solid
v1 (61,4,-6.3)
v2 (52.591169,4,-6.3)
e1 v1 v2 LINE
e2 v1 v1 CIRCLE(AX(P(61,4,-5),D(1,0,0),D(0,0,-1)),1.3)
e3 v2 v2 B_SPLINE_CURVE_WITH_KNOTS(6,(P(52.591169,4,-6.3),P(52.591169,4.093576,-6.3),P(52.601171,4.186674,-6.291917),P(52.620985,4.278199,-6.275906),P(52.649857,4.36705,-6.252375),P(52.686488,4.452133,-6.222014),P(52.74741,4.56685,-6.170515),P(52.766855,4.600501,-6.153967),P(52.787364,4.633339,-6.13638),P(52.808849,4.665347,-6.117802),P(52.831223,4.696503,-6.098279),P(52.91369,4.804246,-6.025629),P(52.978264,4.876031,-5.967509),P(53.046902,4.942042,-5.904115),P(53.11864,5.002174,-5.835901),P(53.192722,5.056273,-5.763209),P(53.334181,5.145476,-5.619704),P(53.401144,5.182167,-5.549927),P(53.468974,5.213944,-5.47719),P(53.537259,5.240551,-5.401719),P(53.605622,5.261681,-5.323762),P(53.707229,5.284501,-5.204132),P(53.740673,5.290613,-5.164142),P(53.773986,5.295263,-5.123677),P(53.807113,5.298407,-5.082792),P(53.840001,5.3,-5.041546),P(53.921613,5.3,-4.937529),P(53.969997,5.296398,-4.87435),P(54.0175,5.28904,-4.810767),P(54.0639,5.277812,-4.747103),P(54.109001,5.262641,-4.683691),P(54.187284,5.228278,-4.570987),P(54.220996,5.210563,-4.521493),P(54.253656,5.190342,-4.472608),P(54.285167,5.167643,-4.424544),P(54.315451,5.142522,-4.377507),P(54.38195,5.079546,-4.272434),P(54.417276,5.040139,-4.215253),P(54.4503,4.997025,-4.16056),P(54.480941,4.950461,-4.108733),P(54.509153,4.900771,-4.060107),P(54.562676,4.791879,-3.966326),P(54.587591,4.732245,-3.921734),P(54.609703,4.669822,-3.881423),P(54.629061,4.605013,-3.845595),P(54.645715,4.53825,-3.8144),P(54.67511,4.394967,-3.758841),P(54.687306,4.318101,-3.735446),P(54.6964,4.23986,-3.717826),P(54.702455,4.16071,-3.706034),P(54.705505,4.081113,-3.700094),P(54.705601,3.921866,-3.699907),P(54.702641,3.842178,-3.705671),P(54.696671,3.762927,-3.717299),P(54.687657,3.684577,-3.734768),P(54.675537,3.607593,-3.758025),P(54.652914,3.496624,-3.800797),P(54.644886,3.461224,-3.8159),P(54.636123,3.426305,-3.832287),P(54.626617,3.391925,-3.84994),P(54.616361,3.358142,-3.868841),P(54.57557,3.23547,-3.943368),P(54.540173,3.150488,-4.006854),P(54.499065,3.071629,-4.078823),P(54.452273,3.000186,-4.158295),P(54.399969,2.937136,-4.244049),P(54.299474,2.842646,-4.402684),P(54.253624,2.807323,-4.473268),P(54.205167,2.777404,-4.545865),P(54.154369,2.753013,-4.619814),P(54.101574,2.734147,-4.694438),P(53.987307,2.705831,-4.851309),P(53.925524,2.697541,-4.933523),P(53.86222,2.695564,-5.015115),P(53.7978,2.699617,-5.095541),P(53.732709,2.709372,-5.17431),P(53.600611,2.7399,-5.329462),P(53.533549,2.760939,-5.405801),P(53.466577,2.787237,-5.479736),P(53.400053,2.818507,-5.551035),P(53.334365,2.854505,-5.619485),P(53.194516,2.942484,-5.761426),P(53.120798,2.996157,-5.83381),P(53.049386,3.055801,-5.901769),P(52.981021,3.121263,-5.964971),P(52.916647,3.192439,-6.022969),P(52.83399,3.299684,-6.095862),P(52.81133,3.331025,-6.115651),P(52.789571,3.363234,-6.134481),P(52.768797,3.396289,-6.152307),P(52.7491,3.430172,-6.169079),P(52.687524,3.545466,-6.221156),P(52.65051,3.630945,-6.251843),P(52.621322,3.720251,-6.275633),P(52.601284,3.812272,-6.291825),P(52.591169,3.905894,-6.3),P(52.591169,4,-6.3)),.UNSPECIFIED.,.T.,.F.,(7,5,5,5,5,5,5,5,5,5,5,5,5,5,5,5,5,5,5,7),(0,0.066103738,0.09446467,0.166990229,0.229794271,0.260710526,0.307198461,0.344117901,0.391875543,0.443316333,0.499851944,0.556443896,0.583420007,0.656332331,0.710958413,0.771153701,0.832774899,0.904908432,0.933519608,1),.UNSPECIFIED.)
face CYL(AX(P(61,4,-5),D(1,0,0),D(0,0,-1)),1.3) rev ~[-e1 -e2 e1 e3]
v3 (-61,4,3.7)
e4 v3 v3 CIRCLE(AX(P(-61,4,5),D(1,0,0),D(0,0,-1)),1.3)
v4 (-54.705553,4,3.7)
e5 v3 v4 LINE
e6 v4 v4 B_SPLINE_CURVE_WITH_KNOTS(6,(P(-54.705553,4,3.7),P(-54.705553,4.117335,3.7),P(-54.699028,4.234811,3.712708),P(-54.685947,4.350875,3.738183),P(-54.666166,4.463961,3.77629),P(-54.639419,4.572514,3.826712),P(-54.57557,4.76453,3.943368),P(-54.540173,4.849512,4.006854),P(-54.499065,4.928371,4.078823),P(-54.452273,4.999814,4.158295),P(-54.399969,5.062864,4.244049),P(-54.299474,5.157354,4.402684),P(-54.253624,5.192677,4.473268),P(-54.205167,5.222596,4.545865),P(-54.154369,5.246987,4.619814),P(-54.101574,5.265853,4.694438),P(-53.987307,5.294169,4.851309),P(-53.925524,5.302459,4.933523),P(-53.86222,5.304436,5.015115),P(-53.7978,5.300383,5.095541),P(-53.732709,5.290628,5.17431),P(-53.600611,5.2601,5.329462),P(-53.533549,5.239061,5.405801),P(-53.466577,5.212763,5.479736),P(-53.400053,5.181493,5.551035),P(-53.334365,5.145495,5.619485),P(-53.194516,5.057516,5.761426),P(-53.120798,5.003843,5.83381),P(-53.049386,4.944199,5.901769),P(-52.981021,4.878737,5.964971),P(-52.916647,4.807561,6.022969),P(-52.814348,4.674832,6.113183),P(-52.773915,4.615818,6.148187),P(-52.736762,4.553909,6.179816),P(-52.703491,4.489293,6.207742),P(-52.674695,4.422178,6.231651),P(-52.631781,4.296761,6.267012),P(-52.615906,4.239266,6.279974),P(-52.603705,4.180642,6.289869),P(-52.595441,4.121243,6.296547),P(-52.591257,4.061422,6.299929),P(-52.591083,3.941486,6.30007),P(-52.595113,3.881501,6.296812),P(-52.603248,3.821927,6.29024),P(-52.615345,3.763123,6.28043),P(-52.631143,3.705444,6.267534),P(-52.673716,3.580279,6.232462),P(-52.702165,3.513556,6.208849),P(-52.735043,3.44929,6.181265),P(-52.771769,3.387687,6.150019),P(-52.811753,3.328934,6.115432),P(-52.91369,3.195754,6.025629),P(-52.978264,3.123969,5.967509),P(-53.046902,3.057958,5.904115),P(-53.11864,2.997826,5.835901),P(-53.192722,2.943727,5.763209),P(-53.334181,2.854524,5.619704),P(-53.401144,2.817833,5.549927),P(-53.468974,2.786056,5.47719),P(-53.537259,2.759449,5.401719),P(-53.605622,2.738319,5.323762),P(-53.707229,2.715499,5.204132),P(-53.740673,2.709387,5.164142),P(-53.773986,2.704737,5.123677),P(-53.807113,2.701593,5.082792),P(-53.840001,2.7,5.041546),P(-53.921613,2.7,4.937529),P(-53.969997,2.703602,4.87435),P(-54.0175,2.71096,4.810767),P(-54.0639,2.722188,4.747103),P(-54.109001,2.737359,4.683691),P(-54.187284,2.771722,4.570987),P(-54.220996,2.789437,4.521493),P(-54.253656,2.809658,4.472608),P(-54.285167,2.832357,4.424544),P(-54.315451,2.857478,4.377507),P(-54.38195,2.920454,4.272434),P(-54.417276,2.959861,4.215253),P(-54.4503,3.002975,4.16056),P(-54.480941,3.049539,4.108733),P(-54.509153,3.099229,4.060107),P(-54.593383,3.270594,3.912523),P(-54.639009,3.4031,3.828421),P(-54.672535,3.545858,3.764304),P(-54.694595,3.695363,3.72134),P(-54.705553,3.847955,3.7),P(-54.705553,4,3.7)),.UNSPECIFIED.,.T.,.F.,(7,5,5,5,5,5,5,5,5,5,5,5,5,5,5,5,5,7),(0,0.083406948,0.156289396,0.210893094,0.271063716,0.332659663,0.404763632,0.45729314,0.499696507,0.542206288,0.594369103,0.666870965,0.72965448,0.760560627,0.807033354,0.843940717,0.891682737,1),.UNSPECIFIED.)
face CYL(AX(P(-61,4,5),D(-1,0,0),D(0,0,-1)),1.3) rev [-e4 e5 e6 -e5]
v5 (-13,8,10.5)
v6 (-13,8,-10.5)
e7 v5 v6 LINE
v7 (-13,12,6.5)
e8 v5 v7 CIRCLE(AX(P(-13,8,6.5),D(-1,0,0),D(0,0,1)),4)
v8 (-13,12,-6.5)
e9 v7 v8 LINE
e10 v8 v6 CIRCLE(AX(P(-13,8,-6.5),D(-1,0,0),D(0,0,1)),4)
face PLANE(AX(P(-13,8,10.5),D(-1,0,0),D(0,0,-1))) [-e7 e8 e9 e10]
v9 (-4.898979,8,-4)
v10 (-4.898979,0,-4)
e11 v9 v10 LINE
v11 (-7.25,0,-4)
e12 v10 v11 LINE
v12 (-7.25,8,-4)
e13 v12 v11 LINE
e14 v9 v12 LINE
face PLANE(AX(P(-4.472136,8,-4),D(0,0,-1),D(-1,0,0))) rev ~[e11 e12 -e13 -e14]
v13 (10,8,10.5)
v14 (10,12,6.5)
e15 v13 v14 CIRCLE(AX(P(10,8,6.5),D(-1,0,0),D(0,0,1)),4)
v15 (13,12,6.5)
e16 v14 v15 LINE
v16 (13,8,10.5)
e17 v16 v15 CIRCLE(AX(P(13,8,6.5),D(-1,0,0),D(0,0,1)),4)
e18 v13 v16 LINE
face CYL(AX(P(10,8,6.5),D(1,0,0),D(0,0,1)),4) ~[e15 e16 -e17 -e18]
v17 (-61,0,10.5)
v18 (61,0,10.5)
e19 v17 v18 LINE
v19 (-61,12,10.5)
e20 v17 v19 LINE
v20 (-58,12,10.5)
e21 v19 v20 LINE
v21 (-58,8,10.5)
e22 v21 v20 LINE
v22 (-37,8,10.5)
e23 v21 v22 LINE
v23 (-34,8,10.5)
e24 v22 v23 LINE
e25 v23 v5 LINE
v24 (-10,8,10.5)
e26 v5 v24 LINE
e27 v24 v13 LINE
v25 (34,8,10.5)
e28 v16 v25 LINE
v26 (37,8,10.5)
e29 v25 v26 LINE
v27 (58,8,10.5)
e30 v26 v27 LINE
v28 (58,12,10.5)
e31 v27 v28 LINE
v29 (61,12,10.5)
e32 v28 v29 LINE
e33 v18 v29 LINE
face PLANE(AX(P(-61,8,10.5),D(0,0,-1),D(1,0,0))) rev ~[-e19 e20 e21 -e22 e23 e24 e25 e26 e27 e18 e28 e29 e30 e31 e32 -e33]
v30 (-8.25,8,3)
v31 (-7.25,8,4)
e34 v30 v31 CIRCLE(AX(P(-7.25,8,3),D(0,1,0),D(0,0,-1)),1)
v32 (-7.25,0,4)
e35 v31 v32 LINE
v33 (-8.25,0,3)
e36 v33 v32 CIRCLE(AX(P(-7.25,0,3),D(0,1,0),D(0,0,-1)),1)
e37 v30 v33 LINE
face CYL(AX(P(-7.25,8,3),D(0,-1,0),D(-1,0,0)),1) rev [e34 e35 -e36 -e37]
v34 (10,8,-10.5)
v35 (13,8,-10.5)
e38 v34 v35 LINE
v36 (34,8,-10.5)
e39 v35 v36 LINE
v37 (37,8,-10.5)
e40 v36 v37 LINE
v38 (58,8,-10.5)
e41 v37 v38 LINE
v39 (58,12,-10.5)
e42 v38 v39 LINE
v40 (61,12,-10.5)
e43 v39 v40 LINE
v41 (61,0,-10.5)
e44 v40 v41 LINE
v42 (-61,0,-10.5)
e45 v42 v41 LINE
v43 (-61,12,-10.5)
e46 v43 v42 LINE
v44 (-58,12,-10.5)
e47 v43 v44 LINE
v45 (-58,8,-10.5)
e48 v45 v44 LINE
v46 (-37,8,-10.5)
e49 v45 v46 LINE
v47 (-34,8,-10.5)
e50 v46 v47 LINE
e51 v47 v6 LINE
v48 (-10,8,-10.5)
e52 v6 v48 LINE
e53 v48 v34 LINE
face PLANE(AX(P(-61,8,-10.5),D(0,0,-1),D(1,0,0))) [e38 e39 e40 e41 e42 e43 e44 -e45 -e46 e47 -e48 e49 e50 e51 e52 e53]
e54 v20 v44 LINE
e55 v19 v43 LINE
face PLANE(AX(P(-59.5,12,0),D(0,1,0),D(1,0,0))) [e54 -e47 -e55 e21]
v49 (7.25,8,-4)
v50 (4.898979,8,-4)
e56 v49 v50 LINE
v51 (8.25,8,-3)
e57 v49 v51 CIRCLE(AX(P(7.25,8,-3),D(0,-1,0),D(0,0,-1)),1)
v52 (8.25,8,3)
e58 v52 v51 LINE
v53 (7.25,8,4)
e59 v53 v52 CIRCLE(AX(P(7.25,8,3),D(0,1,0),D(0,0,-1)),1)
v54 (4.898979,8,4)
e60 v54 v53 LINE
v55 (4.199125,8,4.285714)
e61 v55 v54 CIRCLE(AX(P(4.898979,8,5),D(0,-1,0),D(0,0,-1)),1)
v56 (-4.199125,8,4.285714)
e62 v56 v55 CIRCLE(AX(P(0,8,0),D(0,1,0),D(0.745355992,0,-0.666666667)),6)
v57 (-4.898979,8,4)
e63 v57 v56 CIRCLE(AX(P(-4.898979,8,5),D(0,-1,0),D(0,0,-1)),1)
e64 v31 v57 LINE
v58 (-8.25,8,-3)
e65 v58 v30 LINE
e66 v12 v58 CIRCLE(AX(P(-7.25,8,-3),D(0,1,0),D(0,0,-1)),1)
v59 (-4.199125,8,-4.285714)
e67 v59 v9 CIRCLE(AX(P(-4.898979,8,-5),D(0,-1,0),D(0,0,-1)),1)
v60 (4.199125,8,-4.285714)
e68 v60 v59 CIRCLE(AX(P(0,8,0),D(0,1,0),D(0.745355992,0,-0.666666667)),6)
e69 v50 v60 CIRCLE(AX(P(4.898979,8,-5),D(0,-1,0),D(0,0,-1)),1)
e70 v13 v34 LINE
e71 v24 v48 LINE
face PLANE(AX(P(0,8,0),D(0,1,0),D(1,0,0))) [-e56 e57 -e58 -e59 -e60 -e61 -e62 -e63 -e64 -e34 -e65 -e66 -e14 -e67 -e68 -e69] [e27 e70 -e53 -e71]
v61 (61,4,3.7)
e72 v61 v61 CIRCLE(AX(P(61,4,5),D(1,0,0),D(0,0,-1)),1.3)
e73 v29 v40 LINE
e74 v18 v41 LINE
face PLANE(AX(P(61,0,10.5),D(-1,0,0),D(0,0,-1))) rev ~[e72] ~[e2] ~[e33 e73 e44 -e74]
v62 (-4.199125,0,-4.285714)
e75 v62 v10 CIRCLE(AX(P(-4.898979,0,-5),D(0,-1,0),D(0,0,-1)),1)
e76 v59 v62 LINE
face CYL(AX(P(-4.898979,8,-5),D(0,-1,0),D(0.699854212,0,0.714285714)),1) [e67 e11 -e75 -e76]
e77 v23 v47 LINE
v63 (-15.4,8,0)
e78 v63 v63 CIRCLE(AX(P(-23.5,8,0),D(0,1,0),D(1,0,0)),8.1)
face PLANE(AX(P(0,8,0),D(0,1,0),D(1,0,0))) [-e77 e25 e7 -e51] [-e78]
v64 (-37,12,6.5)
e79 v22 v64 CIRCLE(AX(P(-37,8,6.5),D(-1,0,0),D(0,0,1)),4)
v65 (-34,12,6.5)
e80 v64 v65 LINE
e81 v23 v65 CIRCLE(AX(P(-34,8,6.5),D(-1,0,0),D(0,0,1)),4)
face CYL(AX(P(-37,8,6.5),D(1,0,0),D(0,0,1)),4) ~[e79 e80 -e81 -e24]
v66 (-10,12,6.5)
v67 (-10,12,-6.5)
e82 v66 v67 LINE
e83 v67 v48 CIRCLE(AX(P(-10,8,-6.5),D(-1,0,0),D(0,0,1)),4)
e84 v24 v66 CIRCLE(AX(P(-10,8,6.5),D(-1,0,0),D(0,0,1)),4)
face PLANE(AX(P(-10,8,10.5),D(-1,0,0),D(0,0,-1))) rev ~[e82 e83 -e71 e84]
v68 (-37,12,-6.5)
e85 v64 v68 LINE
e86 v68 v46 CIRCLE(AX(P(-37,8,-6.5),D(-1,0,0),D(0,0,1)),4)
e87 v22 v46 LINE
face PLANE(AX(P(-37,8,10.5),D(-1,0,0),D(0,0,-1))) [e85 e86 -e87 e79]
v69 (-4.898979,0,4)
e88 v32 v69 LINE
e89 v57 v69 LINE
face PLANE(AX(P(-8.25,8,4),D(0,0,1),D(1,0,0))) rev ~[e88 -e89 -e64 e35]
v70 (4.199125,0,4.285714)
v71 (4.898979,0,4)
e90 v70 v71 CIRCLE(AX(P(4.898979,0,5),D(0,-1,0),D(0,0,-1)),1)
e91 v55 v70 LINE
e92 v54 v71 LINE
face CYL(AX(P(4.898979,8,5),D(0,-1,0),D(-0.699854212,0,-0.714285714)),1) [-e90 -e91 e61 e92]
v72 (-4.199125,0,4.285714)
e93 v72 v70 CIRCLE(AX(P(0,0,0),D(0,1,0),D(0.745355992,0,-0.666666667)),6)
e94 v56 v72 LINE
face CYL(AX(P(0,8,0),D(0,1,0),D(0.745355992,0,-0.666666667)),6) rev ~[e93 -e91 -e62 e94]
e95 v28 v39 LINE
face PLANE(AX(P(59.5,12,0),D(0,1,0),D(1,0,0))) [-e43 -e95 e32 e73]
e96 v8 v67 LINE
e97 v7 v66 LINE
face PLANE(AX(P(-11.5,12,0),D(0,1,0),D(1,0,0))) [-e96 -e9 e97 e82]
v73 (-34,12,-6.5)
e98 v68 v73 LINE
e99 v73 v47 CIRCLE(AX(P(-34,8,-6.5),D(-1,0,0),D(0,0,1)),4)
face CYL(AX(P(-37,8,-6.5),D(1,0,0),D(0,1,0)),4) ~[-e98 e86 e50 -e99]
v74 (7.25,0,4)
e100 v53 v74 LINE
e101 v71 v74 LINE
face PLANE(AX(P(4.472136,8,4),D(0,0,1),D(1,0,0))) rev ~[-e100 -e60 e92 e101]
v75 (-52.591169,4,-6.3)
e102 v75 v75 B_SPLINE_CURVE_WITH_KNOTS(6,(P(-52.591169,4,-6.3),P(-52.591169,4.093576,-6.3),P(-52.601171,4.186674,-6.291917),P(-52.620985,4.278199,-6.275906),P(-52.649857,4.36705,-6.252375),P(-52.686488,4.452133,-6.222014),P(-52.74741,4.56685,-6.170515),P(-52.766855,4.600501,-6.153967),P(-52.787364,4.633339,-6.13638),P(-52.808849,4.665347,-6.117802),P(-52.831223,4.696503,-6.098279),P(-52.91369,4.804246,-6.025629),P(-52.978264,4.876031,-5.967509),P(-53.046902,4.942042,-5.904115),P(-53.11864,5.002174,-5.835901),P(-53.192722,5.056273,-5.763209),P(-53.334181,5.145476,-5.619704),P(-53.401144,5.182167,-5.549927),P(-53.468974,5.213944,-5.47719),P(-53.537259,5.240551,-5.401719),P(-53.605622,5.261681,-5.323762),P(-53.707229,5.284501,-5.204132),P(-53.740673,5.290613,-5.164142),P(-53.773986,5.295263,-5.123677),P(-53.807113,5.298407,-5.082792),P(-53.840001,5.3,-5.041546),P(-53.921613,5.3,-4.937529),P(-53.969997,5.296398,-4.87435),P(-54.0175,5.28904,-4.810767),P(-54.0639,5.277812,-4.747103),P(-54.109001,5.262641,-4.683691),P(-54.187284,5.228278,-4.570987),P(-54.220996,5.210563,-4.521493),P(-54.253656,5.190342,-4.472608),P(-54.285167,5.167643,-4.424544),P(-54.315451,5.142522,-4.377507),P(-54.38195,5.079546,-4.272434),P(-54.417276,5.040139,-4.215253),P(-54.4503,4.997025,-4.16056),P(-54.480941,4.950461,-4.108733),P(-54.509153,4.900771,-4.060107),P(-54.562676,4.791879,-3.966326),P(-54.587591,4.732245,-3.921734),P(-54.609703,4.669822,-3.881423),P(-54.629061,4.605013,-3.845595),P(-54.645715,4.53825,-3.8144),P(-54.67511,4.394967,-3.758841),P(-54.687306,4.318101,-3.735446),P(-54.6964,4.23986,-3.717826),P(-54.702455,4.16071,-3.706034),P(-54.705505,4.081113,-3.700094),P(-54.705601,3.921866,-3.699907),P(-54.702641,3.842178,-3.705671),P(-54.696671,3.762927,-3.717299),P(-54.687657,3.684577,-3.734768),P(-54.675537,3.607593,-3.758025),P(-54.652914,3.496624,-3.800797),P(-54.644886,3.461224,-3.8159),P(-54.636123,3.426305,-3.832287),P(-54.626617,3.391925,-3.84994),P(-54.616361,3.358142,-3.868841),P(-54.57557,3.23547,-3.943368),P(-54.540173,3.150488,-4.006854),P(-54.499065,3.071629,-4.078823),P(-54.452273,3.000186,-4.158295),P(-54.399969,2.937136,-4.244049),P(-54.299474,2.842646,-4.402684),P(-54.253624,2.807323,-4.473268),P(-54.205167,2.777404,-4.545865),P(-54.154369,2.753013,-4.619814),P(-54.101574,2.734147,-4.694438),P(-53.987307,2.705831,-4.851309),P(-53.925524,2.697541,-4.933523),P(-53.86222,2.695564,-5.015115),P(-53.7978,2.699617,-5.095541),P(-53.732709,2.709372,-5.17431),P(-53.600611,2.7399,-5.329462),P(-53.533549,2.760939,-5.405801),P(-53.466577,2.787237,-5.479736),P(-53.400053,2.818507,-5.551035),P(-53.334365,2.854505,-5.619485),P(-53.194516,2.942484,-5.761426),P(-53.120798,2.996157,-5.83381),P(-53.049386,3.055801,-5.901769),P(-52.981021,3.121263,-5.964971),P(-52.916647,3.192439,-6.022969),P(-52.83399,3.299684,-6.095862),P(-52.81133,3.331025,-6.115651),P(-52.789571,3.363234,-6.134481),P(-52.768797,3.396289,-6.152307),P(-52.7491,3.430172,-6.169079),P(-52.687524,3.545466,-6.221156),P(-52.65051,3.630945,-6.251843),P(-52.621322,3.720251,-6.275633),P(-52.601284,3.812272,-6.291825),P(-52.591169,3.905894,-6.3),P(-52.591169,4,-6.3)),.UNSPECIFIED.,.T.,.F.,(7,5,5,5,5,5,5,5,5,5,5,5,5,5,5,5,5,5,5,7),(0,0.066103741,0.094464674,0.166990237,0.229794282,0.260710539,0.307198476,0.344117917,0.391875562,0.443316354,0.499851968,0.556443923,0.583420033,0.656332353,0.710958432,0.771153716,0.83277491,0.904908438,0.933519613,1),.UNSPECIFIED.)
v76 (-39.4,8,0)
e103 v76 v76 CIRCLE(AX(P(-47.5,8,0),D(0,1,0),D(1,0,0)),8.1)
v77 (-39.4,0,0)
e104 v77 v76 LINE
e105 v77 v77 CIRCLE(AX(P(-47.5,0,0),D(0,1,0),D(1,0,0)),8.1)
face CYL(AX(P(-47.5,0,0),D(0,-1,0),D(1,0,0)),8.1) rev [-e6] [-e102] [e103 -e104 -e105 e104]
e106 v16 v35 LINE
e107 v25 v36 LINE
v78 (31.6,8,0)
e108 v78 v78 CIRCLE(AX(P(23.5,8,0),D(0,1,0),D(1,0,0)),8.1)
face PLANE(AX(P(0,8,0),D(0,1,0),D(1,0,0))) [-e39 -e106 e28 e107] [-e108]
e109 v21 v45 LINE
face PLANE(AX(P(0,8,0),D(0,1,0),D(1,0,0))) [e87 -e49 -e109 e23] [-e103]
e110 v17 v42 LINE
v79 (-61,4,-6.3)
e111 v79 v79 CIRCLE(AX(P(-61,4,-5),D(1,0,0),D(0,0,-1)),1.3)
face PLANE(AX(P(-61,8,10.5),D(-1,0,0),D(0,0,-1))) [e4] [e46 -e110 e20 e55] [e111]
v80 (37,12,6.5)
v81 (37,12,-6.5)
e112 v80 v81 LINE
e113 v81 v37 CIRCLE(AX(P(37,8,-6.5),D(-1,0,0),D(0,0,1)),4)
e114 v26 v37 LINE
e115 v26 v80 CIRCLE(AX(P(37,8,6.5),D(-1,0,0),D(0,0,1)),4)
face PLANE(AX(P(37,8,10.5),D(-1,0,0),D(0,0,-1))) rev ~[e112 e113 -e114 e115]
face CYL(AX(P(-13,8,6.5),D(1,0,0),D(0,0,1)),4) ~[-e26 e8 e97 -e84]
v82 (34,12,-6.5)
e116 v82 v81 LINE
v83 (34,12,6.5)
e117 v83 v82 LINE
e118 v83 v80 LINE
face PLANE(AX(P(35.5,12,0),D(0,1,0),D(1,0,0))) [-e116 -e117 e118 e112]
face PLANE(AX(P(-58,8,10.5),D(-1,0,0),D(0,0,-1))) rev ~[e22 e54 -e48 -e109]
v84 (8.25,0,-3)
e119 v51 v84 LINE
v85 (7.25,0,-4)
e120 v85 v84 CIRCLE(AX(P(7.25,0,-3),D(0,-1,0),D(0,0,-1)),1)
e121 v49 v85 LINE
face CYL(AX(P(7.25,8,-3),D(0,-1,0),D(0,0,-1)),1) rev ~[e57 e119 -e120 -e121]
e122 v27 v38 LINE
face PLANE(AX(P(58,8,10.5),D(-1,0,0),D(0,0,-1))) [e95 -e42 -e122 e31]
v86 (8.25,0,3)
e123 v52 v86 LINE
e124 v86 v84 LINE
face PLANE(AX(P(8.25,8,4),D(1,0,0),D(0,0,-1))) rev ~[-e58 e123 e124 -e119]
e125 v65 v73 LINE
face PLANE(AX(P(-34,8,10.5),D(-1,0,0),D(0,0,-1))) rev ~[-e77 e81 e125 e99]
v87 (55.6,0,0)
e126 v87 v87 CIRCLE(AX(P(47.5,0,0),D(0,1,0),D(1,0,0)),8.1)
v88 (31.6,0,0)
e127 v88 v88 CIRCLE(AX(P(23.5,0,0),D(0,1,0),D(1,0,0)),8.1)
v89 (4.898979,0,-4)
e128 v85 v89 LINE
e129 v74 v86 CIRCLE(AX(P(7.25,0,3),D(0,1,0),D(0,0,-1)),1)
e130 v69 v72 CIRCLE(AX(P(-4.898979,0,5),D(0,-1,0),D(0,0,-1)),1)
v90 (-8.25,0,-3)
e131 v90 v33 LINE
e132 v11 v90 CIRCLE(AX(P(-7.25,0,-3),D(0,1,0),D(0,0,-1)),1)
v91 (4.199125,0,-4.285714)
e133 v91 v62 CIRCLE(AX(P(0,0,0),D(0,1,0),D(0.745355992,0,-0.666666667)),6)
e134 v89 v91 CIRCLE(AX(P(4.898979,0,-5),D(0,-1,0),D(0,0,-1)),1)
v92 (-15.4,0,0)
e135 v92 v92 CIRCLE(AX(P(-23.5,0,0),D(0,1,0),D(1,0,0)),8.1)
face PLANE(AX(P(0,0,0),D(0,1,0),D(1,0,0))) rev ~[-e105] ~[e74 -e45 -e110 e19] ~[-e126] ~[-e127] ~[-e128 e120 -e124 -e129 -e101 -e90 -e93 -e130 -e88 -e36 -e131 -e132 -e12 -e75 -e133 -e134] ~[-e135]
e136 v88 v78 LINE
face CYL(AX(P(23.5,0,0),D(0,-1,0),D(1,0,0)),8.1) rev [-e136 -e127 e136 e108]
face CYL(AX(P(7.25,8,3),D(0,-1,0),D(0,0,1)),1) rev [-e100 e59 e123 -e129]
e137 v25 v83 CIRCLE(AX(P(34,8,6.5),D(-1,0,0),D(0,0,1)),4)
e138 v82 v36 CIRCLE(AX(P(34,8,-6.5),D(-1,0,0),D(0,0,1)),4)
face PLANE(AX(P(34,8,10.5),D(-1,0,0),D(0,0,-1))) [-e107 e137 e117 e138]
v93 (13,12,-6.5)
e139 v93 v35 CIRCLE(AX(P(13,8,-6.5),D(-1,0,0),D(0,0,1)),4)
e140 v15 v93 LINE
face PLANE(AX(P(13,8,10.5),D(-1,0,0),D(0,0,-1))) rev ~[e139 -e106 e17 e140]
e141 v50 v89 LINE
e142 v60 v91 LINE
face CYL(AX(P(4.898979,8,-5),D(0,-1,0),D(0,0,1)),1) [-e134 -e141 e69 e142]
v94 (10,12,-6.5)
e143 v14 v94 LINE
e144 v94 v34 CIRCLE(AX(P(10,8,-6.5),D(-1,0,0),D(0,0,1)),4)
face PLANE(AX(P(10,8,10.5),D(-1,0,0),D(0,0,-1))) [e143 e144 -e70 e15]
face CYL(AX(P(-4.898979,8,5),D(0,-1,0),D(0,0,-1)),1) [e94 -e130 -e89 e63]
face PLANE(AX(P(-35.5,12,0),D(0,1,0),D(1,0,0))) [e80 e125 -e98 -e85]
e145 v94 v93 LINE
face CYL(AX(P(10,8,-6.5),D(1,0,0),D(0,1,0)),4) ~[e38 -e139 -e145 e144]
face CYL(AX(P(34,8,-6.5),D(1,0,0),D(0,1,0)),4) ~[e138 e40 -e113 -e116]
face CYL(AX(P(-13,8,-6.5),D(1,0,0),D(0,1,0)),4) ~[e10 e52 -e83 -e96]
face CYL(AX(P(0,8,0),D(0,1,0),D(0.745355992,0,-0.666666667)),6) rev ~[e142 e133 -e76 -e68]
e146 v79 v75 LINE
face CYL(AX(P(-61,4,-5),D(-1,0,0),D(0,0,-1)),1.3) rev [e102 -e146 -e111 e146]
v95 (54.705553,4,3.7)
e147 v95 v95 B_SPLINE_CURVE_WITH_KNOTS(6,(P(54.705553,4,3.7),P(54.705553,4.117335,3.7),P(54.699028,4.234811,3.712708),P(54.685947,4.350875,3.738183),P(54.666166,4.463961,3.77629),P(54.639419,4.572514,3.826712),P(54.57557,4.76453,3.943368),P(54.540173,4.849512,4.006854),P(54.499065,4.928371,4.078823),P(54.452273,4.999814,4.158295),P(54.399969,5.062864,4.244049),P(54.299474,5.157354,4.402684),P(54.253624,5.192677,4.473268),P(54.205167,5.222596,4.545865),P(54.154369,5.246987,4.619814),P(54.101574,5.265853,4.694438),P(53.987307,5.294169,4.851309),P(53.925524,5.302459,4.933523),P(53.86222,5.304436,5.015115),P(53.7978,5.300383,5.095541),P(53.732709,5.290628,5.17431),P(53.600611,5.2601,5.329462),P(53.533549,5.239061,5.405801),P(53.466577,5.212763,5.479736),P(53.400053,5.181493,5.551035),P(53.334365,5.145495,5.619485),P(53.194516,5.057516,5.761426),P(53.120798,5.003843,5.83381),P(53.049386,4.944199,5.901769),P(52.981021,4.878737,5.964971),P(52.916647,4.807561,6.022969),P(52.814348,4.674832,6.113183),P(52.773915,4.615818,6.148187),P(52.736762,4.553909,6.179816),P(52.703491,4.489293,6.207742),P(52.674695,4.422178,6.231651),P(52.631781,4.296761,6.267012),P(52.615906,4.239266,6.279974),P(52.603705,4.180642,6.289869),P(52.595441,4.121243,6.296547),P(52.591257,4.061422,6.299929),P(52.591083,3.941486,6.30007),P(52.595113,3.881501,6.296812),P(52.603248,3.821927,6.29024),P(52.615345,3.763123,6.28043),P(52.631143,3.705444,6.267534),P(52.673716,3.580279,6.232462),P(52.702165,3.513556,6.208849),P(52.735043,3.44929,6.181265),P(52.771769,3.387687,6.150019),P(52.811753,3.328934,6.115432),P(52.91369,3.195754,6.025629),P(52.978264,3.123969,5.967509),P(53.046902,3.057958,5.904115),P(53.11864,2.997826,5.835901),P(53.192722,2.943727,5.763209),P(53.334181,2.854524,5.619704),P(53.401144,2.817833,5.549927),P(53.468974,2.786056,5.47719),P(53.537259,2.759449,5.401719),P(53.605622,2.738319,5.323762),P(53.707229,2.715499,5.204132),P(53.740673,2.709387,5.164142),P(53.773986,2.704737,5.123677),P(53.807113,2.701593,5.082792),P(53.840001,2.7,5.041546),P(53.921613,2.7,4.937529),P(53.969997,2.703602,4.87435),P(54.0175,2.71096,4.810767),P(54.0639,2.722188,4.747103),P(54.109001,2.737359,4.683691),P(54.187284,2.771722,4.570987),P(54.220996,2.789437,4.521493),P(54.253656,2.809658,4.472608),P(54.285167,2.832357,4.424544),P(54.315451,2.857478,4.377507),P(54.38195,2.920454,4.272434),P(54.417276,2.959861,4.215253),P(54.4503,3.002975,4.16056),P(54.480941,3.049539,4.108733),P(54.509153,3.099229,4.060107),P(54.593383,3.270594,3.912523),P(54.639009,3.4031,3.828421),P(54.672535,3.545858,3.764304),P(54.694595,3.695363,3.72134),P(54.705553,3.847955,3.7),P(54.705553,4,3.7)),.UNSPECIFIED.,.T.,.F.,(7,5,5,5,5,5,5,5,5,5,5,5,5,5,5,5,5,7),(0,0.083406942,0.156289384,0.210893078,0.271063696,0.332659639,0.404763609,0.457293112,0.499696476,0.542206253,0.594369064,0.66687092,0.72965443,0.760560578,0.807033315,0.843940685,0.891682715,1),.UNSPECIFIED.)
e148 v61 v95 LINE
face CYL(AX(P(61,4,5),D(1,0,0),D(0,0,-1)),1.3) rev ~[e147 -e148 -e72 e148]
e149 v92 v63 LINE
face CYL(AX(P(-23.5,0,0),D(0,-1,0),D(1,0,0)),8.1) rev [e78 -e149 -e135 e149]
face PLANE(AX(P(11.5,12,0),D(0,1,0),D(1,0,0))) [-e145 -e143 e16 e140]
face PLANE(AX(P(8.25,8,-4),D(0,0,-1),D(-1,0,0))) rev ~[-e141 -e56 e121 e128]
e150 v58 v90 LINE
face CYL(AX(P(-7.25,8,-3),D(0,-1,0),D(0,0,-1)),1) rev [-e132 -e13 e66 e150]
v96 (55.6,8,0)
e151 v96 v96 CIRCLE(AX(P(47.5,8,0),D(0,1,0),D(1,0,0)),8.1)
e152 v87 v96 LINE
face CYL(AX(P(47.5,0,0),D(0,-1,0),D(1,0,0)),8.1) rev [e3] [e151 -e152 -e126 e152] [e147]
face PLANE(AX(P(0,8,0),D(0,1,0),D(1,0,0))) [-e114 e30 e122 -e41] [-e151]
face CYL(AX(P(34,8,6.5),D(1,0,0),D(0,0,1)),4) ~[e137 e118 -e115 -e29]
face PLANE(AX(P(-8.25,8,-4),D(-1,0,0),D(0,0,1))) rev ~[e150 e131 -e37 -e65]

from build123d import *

# Parameters (mm, degrees)
SKETCH1_W           = 122
SKETCH1_H           = 21
SKETCH1_R           = 8.1
BOSS_EXTRUDE1_DEPTH = 8
CUT_EXTRUDE1_DEPTH  = 122
FILLET2_R           = 1
SKETCH6_W           = 3
SKETCH6_H           = 21
BOSS_EXTRUDE4_DEPTH = 4
FILLET3_R           = 4
SKETCH7_R           = 1.3
CUT_EXTRUDE2_DEPTH  = 10


with BuildPart() as part:
    # Sketch1 → Boss-Extrude1 (new body)
    with BuildSketch(Plane(origin=(0, 0, 0), x_dir=(1, 0, 0), z_dir=(0, 1, 0))):
        Rectangle(SKETCH1_W, SKETCH1_H)
        with Locations((-47.5, 0)):
            Circle(SKETCH1_R, mode=Mode.SUBTRACT)
        with Locations((-23.5, 0)):
            Circle(SKETCH1_R, mode=Mode.SUBTRACT)
        with Locations((23.5, 0)):
            Circle(SKETCH1_R, mode=Mode.SUBTRACT)
        with Locations((47.5, 0)):
            Circle(SKETCH1_R, mode=Mode.SUBTRACT)
    extrude(amount=BOSS_EXTRUDE1_DEPTH)

    # Sketch4 → Cut-Extrude1 (cut)
    with BuildSketch(Plane(origin=(0, 8, 0), x_dir=(1, 0, 0), z_dir=(0, 1, 0))):
        with BuildLine():
            Line((8.25, 4), (4.472135955, 4))
            ThreePointArc((4.472135955, 4), (5.605034154, 2.140932539), (6, 0))
            ThreePointArc((6, 0), (5.605034154, -2.140932539), (4.472135955, -4))
            Line((4.472135955, -4), (8.25, -4))
            Line((8.25, -4), (8.25, 4))
        make_face()
        with BuildLine():
            Line((4.472135955, 4), (-4.472135955, 4))
            ThreePointArc((-4.472135955, 4), (-6, 0), (-4.472135955, -4))
            Line((-4.472135955, -4), (4.472135955, -4))
            ThreePointArc((4.472135955, -4), (5.605034154, -2.140932539), (6, 0))
            ThreePointArc((6, 0), (5.605034154, 2.140932539), (4.472135955, 4))
        make_face()
        with BuildLine():
            ThreePointArc((4.472135955, 4), (0, 6), (-4.472135955, 4))
            Line((-4.472135955, 4), (4.472135955, 4))
        make_face()
        with BuildLine():
            Line((4.472135955, -4), (-4.472135955, -4))
            ThreePointArc((-4.472135955, -4), (0, -6), (4.472135955, -4))
        make_face()
        with BuildLine():
            Line((-4.472135955, 4), (-8.25, 4))
            Line((-8.25, 4), (-8.25, -4))
            Line((-8.25, -4), (-4.472135955, -4))
            ThreePointArc((-4.472135955, -4), (-6, 0), (-4.472135955, 4))
        make_face()
    extrude(amount=-CUT_EXTRUDE1_DEPTH, mode=Mode.SUBTRACT)

    # Fillet2
    fillet2_edges = [part.edges().sort_by_distance(p)[0] for p in [
        (4.472135955, 4, -4),
        (8.25, 4, -4),
        (8.25, 4, 4),
        (4.472135955, 4, 4),
        (-4.472135955, 4, 4),
        (-8.25, 4, 4),
        (-8.25, 4, -4),
        (-4.472135955, 4, -4),
    ]]
    fillet(fillet2_edges, radius=FILLET2_R)

    # Sketch6 → Boss-Extrude4 (add)
    with BuildSketch(Plane(origin=(0, 8, 0), x_dir=(1, 0, 0), z_dir=(0, 1, 0))):
        with Locations((-59.5, 0)):
            Rectangle(SKETCH6_W, SKETCH6_H)
        with Locations((-35.5, 0)):
            Rectangle(SKETCH6_W, SKETCH6_H)
        with Locations((35.5, 0)):
            Rectangle(SKETCH6_W, SKETCH6_H)
        with Locations((59.5, 0)):
            Rectangle(SKETCH6_W, SKETCH6_H)
        with Locations((-11.5, 0)):
            Rectangle(SKETCH6_W, SKETCH6_H)
        with Locations((11.5, 0)):
            Rectangle(SKETCH6_W, SKETCH6_H)
    extrude(amount=BOSS_EXTRUDE4_DEPTH)

    # Fillet3
    fillet3_edges = [part.edges().sort_by_distance(p)[0] for p in [
        (35.5, 12, 10.5),
        (11.5, 12, 10.5),
        (-11.5, 12, 10.5),
        (-35.5, 12, 10.5),
        (35.5, 12, -10.5),
        (11.5, 12, -10.5),
        (-11.5, 12, -10.5),
        (-35.5, 12, -10.5),
    ]]
    fillet(fillet3_edges, radius=FILLET3_R)

    # Sketch7 → Cut-Extrude2 (cut)
    with BuildSketch(Plane(origin=(61, 0, 0), x_dir=(0, 0, -1), z_dir=(1, 0, 0))):
        with Locations((-5, 4)):
            Circle(SKETCH7_R)
        with Locations((5, 4)):
            Circle(SKETCH7_R)
    cut_extrude2 = extrude(amount=-CUT_EXTRUDE2_DEPTH, mode=Mode.SUBTRACT)

    # Mirror1: Cut-Extrude2 across plane
    add(cut_extrude2.mirror(Plane(origin=(0, 0, 0), x_dir=(0, 0, 1), z_dir=(1, 0, 0))), mode=Mode.SUBTRACT)


solid = part.part
